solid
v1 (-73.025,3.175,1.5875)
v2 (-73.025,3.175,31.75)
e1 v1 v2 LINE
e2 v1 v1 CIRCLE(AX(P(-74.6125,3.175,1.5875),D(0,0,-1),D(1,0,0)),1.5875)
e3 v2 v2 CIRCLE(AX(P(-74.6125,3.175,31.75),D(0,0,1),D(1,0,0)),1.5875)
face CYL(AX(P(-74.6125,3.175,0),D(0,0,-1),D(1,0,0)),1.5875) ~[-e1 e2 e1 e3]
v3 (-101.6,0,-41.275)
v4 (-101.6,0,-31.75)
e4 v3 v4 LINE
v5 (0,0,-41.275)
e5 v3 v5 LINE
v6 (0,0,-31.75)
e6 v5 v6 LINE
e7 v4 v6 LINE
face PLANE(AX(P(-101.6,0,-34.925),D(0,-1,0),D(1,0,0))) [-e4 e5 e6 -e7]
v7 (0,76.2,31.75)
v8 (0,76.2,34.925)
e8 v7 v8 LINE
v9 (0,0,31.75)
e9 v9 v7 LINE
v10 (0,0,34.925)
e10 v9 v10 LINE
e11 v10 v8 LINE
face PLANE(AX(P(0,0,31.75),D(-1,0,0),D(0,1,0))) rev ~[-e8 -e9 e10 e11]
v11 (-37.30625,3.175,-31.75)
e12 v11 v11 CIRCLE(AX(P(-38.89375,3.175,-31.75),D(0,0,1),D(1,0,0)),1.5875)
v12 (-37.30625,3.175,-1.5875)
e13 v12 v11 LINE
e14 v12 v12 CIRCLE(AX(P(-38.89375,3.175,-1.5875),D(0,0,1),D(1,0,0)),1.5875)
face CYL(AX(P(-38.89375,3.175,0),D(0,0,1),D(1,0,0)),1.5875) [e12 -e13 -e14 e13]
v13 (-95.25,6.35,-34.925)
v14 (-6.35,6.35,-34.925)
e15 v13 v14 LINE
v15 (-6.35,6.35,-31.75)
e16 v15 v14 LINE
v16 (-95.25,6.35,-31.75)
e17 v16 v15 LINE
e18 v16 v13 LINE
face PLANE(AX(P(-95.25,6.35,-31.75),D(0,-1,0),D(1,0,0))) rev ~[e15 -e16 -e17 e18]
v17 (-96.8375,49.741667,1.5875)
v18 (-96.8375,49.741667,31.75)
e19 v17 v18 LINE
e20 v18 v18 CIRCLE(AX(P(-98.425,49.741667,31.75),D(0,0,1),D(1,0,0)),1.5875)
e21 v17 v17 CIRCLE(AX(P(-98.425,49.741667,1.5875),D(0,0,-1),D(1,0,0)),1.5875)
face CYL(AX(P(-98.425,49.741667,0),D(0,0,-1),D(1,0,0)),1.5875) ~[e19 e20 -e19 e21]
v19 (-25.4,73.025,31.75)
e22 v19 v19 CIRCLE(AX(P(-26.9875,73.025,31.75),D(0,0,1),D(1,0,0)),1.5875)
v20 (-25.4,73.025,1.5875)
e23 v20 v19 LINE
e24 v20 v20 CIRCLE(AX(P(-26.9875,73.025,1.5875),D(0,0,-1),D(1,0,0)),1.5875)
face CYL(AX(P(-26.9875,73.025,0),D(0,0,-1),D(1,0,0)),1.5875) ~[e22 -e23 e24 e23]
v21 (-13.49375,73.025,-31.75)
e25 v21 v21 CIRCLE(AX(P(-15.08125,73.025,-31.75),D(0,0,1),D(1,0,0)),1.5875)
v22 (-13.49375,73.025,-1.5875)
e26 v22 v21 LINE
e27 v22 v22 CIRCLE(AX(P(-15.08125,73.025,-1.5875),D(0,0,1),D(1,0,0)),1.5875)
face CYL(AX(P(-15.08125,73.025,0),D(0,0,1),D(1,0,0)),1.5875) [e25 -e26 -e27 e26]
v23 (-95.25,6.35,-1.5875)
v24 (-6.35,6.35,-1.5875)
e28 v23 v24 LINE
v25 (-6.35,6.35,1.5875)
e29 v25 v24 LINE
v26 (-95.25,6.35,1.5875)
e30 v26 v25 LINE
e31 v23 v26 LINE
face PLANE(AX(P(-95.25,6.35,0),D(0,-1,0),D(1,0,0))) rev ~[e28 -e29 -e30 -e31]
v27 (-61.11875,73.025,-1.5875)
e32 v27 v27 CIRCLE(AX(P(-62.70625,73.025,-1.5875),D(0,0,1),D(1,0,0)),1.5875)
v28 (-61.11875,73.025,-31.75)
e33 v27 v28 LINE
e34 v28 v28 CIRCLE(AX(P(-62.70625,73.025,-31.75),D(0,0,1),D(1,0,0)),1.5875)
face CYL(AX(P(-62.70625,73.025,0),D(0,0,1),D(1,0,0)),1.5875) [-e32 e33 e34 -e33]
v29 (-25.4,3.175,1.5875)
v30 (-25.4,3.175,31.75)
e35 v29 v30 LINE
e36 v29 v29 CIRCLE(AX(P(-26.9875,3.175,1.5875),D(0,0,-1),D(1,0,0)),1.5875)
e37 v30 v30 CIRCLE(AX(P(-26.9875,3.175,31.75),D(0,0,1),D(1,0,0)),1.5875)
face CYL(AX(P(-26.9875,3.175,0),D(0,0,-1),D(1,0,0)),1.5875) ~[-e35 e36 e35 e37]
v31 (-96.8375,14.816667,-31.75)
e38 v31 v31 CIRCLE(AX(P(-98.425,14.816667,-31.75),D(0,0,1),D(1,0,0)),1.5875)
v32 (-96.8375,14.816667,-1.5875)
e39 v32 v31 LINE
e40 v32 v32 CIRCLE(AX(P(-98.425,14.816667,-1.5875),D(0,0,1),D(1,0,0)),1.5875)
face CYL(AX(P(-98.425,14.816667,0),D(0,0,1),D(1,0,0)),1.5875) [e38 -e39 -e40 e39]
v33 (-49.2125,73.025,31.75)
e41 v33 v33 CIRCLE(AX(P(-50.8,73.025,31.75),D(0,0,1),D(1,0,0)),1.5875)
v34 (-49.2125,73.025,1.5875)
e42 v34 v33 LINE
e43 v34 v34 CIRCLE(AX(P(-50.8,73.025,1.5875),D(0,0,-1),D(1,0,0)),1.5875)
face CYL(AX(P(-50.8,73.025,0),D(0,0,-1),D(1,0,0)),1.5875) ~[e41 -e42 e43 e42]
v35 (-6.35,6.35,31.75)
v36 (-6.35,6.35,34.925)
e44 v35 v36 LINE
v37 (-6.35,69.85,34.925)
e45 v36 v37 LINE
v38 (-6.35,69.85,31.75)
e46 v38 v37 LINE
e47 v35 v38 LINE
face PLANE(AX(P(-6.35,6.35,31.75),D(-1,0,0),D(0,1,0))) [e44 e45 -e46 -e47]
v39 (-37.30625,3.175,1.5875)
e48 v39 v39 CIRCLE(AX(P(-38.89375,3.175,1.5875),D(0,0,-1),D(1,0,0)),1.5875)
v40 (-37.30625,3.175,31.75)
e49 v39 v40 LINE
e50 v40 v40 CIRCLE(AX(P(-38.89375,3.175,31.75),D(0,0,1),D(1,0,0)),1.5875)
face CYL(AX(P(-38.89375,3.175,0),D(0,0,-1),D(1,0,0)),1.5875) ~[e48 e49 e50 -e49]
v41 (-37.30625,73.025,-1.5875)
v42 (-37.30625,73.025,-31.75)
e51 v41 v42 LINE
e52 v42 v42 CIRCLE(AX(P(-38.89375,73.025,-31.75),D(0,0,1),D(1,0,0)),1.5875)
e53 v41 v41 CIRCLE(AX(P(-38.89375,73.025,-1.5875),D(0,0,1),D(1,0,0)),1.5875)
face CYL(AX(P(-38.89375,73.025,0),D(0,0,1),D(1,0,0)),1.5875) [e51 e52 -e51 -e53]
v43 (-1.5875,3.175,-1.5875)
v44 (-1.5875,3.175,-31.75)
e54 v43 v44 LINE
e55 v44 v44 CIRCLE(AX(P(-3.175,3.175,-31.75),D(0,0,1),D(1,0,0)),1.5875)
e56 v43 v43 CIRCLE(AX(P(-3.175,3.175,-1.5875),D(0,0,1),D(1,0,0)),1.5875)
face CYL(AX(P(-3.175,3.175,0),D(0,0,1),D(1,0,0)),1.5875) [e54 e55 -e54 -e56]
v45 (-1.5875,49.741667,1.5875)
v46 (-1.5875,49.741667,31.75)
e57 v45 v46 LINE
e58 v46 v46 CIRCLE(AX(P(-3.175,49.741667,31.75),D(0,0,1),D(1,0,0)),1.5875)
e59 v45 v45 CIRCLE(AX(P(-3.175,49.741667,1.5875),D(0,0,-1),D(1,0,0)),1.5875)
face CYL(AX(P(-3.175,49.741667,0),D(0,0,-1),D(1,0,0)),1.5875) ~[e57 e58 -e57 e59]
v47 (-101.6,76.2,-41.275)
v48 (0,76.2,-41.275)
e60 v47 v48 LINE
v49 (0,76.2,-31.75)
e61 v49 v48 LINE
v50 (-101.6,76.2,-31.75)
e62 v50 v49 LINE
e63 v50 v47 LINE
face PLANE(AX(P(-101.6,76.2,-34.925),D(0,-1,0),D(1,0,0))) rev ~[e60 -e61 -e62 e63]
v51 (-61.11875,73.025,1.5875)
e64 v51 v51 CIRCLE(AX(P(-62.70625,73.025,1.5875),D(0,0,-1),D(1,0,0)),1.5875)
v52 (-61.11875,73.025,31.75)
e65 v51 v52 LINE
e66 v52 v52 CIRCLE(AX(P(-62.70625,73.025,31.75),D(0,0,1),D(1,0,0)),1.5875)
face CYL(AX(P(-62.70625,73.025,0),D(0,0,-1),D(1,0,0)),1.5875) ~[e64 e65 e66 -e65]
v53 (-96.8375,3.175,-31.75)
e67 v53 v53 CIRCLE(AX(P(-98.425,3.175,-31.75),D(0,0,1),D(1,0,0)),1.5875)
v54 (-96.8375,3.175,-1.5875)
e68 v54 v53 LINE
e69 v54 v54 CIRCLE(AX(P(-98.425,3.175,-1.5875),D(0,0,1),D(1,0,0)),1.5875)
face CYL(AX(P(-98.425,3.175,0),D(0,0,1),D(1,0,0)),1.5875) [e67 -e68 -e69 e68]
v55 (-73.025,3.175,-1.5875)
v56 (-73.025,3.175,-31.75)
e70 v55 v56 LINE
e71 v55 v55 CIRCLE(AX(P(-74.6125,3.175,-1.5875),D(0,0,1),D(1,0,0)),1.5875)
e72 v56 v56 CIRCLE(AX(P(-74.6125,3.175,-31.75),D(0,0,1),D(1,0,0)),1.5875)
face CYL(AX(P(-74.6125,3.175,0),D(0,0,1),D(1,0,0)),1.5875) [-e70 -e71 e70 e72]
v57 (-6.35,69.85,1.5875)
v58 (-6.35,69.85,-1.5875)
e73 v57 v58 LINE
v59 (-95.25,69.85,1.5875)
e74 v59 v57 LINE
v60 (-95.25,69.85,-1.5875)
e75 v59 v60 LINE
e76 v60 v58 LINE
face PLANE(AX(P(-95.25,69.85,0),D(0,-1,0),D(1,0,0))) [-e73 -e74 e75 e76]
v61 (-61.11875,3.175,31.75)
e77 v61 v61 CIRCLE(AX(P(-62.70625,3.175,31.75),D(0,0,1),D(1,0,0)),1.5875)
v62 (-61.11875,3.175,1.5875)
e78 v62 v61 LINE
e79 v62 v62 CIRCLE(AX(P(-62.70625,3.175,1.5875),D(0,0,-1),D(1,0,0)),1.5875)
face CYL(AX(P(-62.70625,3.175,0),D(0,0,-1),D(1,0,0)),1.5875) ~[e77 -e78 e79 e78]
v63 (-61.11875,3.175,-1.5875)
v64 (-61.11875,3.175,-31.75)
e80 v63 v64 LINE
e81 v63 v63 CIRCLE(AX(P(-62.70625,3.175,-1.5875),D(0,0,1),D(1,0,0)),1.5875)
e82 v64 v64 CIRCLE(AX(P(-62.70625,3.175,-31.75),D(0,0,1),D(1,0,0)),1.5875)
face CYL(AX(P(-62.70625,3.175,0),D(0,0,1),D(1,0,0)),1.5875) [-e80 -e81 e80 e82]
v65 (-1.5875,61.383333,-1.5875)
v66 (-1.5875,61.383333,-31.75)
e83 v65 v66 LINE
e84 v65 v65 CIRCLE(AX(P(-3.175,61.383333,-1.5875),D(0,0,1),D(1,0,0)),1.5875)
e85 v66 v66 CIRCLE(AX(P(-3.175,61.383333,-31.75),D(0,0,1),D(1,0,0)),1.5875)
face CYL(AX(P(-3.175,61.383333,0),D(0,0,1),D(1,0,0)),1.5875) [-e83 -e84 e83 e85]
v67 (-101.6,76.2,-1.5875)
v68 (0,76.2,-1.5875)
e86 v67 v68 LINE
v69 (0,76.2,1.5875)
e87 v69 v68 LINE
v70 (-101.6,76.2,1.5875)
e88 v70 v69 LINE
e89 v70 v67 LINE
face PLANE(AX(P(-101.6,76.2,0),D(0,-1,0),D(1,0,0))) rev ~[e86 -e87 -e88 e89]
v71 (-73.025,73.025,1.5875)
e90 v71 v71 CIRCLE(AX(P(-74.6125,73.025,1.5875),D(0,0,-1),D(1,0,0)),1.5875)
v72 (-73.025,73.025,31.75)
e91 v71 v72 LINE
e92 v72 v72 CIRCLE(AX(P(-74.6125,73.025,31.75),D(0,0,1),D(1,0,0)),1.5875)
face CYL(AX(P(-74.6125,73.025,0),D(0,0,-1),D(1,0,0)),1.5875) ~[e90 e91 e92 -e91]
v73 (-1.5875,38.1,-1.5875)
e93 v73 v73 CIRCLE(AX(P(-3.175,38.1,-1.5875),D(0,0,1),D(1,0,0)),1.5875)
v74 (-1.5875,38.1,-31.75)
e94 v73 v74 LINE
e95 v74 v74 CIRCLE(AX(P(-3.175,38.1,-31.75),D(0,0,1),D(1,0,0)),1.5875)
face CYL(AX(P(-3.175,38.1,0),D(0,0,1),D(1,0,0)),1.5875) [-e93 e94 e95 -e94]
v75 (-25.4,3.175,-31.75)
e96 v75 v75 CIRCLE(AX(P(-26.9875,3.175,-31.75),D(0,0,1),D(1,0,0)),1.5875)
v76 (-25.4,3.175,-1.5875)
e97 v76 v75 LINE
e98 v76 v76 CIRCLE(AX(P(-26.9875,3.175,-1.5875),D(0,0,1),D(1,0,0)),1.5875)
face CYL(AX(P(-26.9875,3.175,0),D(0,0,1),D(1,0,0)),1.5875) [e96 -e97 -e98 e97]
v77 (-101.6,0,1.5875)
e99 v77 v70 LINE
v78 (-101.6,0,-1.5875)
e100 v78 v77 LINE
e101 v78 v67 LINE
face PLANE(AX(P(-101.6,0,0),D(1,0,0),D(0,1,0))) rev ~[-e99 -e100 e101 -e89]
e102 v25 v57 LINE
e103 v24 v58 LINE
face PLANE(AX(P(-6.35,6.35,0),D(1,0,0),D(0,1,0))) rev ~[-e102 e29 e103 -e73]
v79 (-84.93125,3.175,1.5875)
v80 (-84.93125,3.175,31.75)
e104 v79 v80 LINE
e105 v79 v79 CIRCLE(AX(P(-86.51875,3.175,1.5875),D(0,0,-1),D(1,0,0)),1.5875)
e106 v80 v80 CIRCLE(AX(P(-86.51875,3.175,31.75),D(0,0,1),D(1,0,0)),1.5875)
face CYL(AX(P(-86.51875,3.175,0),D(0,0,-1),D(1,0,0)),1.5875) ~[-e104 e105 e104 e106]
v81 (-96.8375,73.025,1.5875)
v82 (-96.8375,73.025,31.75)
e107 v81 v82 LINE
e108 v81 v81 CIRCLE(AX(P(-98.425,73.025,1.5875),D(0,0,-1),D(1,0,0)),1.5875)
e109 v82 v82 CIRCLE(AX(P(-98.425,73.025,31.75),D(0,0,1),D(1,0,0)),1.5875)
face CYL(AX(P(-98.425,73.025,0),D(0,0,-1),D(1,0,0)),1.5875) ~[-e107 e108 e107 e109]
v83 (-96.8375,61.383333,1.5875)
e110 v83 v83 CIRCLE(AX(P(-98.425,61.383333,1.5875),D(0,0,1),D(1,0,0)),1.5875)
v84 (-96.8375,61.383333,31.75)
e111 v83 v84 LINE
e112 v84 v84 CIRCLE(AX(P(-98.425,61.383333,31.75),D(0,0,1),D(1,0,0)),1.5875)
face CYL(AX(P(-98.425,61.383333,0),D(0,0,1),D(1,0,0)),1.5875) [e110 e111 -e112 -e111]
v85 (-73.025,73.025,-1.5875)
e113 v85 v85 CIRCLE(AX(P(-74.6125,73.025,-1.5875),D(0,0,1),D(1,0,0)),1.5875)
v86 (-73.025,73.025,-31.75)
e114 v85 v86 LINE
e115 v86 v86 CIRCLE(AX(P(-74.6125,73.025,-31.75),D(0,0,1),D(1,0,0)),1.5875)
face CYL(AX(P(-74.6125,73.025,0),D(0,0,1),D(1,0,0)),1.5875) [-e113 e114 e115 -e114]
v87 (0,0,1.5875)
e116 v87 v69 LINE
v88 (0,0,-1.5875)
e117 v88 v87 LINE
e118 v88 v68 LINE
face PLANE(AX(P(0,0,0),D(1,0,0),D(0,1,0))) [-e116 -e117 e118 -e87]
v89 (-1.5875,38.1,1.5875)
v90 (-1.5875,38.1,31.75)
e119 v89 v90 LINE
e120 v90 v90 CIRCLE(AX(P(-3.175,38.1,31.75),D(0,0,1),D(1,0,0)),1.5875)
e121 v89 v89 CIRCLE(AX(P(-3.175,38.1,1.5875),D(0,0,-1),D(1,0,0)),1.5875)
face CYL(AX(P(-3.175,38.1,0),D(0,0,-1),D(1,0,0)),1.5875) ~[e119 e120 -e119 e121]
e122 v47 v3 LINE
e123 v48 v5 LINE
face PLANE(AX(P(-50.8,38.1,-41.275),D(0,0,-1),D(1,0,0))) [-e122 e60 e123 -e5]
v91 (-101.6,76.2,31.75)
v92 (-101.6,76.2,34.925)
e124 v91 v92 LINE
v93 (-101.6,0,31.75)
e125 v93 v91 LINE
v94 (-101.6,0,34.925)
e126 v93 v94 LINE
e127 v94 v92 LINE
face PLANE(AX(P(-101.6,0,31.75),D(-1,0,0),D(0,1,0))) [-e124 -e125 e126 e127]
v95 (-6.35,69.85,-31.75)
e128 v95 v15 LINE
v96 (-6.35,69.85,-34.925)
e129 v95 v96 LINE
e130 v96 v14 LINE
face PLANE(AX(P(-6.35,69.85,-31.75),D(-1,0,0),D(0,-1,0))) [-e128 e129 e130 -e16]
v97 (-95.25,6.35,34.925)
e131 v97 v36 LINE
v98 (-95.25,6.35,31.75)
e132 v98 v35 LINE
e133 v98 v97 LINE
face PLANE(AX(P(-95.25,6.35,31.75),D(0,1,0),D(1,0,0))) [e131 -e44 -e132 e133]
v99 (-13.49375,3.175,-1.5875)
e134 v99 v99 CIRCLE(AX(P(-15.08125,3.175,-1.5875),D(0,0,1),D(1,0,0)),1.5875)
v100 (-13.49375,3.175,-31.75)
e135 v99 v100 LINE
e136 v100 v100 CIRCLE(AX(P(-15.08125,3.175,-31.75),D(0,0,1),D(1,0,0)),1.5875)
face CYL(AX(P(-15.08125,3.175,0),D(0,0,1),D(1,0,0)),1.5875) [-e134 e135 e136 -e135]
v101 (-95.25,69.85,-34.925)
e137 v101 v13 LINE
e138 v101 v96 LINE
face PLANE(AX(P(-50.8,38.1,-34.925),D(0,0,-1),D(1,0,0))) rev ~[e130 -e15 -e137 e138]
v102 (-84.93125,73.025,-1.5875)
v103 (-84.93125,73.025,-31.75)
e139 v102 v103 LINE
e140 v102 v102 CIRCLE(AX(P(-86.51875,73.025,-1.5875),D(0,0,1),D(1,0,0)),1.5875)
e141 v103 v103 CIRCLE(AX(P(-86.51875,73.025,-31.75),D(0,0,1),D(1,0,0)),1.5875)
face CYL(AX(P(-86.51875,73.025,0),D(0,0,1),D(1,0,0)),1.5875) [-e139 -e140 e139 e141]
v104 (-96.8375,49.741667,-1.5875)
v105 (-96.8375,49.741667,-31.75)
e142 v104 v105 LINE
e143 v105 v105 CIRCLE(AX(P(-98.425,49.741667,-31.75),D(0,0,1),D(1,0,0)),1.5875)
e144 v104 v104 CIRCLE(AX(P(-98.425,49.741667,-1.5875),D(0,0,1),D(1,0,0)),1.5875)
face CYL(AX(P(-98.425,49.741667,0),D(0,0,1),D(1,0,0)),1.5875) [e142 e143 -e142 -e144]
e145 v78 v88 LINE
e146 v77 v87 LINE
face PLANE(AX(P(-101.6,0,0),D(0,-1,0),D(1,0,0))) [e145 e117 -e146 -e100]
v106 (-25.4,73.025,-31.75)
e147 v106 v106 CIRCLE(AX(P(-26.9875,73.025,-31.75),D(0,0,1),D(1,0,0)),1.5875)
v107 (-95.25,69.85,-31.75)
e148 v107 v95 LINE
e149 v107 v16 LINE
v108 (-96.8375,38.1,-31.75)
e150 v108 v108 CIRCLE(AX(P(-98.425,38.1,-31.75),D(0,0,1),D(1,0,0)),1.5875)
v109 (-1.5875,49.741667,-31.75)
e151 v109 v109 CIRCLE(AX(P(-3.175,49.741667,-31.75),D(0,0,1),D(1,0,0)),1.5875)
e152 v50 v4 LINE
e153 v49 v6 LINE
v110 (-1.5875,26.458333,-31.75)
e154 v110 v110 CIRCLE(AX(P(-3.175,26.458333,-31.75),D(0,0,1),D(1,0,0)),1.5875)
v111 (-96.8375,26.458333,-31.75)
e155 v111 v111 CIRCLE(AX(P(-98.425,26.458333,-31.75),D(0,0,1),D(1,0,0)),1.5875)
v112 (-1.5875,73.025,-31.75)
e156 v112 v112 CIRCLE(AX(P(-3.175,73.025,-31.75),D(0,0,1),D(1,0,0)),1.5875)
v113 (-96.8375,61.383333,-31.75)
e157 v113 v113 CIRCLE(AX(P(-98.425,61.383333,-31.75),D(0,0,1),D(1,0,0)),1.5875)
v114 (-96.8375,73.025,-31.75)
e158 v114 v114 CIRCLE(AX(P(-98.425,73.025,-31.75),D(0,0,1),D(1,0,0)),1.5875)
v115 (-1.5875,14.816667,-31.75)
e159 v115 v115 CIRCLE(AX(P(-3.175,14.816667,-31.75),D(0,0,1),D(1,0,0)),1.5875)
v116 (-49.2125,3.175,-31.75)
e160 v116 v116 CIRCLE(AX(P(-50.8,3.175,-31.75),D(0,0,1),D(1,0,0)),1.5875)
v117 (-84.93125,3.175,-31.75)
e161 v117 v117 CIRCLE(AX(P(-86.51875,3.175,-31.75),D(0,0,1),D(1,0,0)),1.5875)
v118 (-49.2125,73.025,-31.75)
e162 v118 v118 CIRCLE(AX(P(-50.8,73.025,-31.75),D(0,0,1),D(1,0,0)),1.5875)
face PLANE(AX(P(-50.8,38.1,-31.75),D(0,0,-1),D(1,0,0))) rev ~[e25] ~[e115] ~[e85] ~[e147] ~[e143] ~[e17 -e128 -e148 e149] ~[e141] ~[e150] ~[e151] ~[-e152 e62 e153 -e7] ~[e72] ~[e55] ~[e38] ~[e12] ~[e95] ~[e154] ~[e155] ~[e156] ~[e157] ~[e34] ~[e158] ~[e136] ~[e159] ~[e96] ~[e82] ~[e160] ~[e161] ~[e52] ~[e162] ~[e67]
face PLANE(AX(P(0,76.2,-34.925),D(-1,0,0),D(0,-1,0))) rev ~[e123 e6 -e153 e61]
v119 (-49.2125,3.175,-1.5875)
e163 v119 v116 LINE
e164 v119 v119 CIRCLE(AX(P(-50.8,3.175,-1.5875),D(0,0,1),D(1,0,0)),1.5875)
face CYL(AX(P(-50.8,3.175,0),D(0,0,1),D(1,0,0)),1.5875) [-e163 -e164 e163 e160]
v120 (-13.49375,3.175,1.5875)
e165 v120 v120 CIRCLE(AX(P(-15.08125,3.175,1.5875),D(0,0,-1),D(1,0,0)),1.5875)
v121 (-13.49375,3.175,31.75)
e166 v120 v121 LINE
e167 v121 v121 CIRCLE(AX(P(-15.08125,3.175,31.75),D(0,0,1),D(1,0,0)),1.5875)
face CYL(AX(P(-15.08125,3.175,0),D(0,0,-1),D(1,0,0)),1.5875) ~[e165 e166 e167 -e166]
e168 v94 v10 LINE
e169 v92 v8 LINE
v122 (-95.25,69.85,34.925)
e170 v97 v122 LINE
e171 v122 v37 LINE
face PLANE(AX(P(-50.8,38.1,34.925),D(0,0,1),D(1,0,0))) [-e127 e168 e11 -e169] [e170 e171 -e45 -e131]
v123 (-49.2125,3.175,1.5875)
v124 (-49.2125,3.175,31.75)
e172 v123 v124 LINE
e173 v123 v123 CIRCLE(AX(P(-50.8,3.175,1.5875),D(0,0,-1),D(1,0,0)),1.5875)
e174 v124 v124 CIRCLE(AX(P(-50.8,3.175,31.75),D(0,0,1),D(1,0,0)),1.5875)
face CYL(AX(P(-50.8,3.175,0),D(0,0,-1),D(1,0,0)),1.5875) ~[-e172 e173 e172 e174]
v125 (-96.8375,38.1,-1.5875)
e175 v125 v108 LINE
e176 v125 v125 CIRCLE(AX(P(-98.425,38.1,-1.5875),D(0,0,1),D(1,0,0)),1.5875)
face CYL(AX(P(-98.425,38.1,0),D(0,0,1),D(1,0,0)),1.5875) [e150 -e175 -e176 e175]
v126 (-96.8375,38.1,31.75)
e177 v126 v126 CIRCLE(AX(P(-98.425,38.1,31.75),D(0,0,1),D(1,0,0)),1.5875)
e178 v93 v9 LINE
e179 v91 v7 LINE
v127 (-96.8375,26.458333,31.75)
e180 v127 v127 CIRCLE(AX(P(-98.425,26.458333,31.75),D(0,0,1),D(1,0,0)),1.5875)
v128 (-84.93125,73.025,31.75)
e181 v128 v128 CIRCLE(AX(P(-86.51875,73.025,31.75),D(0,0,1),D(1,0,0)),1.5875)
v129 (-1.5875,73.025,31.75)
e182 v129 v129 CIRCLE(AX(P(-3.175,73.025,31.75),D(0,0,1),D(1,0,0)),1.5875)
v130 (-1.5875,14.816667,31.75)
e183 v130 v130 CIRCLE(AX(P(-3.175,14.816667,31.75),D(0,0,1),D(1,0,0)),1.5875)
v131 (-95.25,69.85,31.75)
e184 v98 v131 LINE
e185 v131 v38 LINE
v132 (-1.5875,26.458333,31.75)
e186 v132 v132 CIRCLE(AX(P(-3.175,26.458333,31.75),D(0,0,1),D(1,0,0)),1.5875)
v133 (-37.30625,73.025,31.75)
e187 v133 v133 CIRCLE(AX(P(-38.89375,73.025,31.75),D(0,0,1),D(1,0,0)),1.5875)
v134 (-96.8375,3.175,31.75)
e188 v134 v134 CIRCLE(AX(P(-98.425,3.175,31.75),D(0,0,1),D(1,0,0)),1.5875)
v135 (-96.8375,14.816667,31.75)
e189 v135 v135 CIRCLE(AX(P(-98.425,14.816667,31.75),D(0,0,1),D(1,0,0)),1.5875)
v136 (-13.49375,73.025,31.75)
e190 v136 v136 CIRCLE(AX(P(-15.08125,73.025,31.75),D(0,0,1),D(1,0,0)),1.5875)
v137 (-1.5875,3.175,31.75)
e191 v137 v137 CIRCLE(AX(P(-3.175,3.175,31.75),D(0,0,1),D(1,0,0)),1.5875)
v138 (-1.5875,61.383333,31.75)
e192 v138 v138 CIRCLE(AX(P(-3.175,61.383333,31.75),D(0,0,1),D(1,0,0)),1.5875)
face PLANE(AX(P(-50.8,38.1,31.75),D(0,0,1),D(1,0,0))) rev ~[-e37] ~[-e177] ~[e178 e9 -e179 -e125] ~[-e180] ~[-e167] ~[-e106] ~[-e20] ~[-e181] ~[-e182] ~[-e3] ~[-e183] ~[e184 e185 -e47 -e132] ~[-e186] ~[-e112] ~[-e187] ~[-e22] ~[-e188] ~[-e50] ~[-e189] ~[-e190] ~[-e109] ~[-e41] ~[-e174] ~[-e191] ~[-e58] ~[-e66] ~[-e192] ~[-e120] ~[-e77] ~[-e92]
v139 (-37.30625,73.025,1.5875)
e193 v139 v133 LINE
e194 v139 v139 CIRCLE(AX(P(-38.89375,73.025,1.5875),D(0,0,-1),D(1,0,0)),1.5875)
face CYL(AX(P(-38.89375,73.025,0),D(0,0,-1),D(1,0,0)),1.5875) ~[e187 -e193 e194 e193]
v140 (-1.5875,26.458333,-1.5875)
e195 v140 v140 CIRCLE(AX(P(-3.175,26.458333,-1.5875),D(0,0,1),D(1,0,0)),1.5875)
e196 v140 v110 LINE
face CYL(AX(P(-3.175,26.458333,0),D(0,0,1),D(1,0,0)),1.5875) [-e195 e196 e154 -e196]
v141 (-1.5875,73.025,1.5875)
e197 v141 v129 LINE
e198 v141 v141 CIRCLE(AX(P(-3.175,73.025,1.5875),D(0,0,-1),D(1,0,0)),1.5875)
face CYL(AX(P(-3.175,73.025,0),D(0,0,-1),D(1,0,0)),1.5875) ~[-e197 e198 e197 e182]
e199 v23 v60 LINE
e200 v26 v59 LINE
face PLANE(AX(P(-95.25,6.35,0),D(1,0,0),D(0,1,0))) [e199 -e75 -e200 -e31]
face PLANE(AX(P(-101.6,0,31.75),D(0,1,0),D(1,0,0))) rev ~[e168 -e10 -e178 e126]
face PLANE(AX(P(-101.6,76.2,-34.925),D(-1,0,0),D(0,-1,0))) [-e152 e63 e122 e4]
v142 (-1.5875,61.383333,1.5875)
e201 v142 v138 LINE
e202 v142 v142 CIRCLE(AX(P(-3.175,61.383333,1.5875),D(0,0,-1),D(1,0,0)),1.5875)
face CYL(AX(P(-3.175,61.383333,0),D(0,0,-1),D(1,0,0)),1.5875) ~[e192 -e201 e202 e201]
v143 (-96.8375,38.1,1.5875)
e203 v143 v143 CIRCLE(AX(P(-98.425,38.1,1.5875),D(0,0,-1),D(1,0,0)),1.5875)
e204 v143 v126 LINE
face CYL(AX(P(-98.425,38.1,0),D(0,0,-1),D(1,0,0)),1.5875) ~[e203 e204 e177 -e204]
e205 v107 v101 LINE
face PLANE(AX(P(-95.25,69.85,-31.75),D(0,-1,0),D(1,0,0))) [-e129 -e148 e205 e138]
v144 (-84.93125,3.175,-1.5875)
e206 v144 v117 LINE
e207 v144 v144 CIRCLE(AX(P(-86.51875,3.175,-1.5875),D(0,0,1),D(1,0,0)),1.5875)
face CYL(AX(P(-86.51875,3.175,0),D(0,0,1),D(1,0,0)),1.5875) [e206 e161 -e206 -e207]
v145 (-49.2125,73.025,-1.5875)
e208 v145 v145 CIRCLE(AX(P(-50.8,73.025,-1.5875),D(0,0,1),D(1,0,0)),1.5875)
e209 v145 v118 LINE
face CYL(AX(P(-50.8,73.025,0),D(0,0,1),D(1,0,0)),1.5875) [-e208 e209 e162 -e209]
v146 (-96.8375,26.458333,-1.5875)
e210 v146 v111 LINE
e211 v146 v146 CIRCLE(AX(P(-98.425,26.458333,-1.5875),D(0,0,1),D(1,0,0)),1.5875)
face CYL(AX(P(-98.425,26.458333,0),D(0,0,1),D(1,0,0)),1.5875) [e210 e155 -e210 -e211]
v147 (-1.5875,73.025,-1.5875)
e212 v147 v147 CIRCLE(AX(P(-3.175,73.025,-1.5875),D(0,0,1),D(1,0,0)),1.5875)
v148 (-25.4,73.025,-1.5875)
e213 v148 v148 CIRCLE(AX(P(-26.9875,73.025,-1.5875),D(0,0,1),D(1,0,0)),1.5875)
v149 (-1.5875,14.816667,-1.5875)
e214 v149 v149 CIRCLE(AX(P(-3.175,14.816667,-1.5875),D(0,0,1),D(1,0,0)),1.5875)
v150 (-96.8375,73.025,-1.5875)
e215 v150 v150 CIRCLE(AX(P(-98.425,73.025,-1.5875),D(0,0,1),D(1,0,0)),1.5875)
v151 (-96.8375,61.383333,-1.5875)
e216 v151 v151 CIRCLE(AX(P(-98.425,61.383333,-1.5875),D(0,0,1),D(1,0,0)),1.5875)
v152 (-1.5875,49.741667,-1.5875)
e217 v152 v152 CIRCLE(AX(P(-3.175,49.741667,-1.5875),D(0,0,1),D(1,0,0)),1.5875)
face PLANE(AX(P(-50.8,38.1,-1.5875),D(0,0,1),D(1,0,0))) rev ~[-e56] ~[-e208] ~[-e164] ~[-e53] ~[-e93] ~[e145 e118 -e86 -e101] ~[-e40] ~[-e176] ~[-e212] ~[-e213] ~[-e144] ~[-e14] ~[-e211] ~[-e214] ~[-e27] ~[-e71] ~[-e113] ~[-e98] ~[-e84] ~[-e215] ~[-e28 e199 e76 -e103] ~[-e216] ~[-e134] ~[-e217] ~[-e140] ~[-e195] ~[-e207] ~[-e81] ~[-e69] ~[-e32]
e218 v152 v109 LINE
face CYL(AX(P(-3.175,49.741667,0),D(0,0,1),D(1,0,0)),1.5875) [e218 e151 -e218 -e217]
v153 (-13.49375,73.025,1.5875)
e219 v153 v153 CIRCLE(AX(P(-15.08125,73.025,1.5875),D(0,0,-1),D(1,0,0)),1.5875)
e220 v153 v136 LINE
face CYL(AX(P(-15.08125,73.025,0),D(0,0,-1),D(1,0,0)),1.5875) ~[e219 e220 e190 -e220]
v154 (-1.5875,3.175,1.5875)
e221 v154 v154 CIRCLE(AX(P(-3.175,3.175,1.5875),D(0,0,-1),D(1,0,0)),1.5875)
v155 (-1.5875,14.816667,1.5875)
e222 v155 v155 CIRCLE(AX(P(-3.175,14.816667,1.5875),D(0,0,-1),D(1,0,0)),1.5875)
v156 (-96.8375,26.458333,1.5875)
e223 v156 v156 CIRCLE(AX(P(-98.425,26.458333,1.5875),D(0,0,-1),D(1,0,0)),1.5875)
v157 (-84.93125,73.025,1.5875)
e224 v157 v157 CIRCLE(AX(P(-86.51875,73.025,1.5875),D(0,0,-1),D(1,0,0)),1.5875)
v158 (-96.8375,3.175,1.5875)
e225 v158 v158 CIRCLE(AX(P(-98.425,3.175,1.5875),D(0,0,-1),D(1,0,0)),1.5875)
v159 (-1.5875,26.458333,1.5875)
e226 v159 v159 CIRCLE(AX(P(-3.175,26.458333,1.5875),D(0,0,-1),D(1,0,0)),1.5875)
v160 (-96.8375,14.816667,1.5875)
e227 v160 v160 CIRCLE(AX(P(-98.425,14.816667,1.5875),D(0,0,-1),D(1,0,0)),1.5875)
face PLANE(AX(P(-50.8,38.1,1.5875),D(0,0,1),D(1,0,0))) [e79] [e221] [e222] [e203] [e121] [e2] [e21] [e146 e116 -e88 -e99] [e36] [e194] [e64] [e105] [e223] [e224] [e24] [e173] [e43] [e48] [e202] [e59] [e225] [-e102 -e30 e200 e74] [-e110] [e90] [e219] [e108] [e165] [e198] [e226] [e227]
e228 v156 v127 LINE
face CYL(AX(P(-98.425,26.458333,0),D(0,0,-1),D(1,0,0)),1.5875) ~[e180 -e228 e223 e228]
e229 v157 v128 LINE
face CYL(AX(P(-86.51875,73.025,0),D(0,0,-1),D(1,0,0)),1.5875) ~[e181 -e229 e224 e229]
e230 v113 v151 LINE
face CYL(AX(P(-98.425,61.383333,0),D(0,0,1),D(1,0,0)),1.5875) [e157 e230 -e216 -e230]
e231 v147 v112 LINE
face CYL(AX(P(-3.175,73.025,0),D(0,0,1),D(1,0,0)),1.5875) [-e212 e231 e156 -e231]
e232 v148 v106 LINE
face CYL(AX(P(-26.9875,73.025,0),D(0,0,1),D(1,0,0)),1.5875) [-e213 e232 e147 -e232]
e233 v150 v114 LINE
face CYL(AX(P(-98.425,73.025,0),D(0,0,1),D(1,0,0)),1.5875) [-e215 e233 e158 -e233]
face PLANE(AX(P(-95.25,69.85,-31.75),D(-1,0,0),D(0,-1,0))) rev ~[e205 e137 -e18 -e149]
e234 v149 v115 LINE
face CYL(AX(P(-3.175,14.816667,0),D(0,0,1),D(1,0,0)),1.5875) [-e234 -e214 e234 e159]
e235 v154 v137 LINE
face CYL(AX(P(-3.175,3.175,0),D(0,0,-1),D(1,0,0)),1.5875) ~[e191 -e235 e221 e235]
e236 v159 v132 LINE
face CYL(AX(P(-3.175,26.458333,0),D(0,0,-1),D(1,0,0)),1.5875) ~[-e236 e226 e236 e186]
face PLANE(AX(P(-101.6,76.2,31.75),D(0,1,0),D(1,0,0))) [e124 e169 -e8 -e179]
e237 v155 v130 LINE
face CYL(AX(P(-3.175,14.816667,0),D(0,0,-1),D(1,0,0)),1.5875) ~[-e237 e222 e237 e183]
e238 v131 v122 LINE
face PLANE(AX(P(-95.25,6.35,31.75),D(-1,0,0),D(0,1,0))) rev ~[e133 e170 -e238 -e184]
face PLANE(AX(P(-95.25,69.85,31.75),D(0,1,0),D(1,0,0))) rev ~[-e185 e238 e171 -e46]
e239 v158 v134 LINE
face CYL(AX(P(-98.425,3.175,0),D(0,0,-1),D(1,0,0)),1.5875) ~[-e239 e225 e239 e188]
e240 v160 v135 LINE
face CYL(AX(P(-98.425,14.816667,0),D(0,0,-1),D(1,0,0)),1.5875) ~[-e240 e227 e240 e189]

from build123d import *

# Parameters (mm, degrees)
F0_W     = 101.6
F0_H     = 76.2
F0_W_2   = 88.9
F0_H_2   = 63.5
F1_DEPTH = 1.5875
F2_R     = 1.5875
F3_DEPTH = 31.75
F4_W     = 101.6
F4_H     = 76.2
F4_W_2   = 88.9
F4_H_2   = 63.5
F5_DEPTH = 3.175
F6_W     = 101.6
F6_H     = 76.2
F6_W_2   = 88.9
F6_H_2   = 63.5
F7_DEPTH = 3.175
F8_W     = 101.6
F8_H     = 76.2
F9_DEPTH = 6.35


with BuildPart() as f1:
    # F0 (on Top) → F1 (new body, symmetric)
    with BuildSketch(Plane.XY):
        with Locations((-50.8, 38.1)):
            Rectangle(F0_W, F0_H)
        with Locations((-50.8, 38.1)):
            Rectangle(F0_W_2, F0_H_2, mode=Mode.SUBTRACT)
    extrude(amount=F1_DEPTH, both=True)

    # F2 (on Top) → F3 (join, symmetric)
    with BuildSketch(Plane.XY):
        with Locations((-98.425, 3.175)):
            Circle(F2_R)
        with Locations((-86.51875, 3.175)):
            Circle(F2_R)
        with Locations((-74.6125, 3.175)):
            Circle(F2_R)
        with Locations((-38.89375, 73.025)):
            Circle(F2_R)
        with Locations((-98.425, 26.458333)):
            Circle(F2_R)
        with Locations((-98.425, 14.816667)):
            Circle(F2_R)
        with Locations((-62.70625, 73.025)):
            Circle(F2_R)
        with Locations((-3.175, 49.741667)):
            Circle(F2_R)
        with Locations((-3.175, 61.383333)):
            Circle(F2_R)
        with Locations((-3.175, 73.025)):
            Circle(F2_R)
        with Locations((-15.08125, 73.025)):
            Circle(F2_R)
        with Locations((-50.8, 3.175)):
            Circle(F2_R)
        with Locations((-62.70625, 3.175)):
            Circle(F2_R)
        with Locations((-26.9875, 73.025)):
            Circle(F2_R)
        with Locations((-3.175, 14.816667)):
            Circle(F2_R)
        with Locations((-3.175, 26.458333)):
            Circle(F2_R)
        with Locations((-3.175, 38.1)):
            Circle(F2_R)
        with Locations((-3.175, 3.175)):
            Circle(F2_R)
        with Locations((-15.08125, 3.175)):
            Circle(F2_R)
        with Locations((-26.9875, 3.175)):
            Circle(F2_R)
        with Locations((-38.89375, 3.175)):
            Circle(F2_R)
        with Locations((-98.425, 49.741667)):
            Circle(F2_R)
        with Locations((-74.6125, 73.025)):
            Circle(F2_R)
        with Locations((-98.425, 38.1)):
            Circle(F2_R)
        with Locations((-50.8, 73.025)):
            Circle(F2_R)
        with Locations((-98.425, 73.025)):
            Circle(F2_R)
        with Locations((-86.51875, 73.025)):
            Circle(F2_R)
        with Locations((-98.425, 61.383333)):
            Circle(F2_R)
    extrude(amount=F3_DEPTH, both=True)

    # F4 (on face) → F5 (join)
    with BuildSketch(Plane.XY.offset(31.75)):
        with Locations((-50.8, 38.1)):
            Rectangle(F4_W, F4_H)
        with Locations((-50.8, 38.1)):
            Rectangle(F4_W_2, F4_H_2, mode=Mode.SUBTRACT)
    extrude(amount=F5_DEPTH)

    # F6 (on face) → F7 (join)
    with BuildSketch(Plane(origin=(0, 0, -31.75), x_dir=(1, 0, 0), z_dir=(0, 0, -1))):
        with Locations((-50.8, -38.1)):
            Rectangle(F6_W, F6_H)
        with Locations((-50.8, -38.1)):
            Rectangle(F6_W_2, F6_H_2, mode=Mode.SUBTRACT)
    extrude(amount=F7_DEPTH)

    # F8 (on face) → F9 (join)
    with BuildSketch(Plane(origin=(0, 0, -34.925), x_dir=(1, 0, 0), z_dir=(0, 0, -1))):
        with Locations((-50.8, -38.1)):
            Rectangle(F8_W, F8_H)
    extrude(amount=F9_DEPTH)


solid = f1.part
